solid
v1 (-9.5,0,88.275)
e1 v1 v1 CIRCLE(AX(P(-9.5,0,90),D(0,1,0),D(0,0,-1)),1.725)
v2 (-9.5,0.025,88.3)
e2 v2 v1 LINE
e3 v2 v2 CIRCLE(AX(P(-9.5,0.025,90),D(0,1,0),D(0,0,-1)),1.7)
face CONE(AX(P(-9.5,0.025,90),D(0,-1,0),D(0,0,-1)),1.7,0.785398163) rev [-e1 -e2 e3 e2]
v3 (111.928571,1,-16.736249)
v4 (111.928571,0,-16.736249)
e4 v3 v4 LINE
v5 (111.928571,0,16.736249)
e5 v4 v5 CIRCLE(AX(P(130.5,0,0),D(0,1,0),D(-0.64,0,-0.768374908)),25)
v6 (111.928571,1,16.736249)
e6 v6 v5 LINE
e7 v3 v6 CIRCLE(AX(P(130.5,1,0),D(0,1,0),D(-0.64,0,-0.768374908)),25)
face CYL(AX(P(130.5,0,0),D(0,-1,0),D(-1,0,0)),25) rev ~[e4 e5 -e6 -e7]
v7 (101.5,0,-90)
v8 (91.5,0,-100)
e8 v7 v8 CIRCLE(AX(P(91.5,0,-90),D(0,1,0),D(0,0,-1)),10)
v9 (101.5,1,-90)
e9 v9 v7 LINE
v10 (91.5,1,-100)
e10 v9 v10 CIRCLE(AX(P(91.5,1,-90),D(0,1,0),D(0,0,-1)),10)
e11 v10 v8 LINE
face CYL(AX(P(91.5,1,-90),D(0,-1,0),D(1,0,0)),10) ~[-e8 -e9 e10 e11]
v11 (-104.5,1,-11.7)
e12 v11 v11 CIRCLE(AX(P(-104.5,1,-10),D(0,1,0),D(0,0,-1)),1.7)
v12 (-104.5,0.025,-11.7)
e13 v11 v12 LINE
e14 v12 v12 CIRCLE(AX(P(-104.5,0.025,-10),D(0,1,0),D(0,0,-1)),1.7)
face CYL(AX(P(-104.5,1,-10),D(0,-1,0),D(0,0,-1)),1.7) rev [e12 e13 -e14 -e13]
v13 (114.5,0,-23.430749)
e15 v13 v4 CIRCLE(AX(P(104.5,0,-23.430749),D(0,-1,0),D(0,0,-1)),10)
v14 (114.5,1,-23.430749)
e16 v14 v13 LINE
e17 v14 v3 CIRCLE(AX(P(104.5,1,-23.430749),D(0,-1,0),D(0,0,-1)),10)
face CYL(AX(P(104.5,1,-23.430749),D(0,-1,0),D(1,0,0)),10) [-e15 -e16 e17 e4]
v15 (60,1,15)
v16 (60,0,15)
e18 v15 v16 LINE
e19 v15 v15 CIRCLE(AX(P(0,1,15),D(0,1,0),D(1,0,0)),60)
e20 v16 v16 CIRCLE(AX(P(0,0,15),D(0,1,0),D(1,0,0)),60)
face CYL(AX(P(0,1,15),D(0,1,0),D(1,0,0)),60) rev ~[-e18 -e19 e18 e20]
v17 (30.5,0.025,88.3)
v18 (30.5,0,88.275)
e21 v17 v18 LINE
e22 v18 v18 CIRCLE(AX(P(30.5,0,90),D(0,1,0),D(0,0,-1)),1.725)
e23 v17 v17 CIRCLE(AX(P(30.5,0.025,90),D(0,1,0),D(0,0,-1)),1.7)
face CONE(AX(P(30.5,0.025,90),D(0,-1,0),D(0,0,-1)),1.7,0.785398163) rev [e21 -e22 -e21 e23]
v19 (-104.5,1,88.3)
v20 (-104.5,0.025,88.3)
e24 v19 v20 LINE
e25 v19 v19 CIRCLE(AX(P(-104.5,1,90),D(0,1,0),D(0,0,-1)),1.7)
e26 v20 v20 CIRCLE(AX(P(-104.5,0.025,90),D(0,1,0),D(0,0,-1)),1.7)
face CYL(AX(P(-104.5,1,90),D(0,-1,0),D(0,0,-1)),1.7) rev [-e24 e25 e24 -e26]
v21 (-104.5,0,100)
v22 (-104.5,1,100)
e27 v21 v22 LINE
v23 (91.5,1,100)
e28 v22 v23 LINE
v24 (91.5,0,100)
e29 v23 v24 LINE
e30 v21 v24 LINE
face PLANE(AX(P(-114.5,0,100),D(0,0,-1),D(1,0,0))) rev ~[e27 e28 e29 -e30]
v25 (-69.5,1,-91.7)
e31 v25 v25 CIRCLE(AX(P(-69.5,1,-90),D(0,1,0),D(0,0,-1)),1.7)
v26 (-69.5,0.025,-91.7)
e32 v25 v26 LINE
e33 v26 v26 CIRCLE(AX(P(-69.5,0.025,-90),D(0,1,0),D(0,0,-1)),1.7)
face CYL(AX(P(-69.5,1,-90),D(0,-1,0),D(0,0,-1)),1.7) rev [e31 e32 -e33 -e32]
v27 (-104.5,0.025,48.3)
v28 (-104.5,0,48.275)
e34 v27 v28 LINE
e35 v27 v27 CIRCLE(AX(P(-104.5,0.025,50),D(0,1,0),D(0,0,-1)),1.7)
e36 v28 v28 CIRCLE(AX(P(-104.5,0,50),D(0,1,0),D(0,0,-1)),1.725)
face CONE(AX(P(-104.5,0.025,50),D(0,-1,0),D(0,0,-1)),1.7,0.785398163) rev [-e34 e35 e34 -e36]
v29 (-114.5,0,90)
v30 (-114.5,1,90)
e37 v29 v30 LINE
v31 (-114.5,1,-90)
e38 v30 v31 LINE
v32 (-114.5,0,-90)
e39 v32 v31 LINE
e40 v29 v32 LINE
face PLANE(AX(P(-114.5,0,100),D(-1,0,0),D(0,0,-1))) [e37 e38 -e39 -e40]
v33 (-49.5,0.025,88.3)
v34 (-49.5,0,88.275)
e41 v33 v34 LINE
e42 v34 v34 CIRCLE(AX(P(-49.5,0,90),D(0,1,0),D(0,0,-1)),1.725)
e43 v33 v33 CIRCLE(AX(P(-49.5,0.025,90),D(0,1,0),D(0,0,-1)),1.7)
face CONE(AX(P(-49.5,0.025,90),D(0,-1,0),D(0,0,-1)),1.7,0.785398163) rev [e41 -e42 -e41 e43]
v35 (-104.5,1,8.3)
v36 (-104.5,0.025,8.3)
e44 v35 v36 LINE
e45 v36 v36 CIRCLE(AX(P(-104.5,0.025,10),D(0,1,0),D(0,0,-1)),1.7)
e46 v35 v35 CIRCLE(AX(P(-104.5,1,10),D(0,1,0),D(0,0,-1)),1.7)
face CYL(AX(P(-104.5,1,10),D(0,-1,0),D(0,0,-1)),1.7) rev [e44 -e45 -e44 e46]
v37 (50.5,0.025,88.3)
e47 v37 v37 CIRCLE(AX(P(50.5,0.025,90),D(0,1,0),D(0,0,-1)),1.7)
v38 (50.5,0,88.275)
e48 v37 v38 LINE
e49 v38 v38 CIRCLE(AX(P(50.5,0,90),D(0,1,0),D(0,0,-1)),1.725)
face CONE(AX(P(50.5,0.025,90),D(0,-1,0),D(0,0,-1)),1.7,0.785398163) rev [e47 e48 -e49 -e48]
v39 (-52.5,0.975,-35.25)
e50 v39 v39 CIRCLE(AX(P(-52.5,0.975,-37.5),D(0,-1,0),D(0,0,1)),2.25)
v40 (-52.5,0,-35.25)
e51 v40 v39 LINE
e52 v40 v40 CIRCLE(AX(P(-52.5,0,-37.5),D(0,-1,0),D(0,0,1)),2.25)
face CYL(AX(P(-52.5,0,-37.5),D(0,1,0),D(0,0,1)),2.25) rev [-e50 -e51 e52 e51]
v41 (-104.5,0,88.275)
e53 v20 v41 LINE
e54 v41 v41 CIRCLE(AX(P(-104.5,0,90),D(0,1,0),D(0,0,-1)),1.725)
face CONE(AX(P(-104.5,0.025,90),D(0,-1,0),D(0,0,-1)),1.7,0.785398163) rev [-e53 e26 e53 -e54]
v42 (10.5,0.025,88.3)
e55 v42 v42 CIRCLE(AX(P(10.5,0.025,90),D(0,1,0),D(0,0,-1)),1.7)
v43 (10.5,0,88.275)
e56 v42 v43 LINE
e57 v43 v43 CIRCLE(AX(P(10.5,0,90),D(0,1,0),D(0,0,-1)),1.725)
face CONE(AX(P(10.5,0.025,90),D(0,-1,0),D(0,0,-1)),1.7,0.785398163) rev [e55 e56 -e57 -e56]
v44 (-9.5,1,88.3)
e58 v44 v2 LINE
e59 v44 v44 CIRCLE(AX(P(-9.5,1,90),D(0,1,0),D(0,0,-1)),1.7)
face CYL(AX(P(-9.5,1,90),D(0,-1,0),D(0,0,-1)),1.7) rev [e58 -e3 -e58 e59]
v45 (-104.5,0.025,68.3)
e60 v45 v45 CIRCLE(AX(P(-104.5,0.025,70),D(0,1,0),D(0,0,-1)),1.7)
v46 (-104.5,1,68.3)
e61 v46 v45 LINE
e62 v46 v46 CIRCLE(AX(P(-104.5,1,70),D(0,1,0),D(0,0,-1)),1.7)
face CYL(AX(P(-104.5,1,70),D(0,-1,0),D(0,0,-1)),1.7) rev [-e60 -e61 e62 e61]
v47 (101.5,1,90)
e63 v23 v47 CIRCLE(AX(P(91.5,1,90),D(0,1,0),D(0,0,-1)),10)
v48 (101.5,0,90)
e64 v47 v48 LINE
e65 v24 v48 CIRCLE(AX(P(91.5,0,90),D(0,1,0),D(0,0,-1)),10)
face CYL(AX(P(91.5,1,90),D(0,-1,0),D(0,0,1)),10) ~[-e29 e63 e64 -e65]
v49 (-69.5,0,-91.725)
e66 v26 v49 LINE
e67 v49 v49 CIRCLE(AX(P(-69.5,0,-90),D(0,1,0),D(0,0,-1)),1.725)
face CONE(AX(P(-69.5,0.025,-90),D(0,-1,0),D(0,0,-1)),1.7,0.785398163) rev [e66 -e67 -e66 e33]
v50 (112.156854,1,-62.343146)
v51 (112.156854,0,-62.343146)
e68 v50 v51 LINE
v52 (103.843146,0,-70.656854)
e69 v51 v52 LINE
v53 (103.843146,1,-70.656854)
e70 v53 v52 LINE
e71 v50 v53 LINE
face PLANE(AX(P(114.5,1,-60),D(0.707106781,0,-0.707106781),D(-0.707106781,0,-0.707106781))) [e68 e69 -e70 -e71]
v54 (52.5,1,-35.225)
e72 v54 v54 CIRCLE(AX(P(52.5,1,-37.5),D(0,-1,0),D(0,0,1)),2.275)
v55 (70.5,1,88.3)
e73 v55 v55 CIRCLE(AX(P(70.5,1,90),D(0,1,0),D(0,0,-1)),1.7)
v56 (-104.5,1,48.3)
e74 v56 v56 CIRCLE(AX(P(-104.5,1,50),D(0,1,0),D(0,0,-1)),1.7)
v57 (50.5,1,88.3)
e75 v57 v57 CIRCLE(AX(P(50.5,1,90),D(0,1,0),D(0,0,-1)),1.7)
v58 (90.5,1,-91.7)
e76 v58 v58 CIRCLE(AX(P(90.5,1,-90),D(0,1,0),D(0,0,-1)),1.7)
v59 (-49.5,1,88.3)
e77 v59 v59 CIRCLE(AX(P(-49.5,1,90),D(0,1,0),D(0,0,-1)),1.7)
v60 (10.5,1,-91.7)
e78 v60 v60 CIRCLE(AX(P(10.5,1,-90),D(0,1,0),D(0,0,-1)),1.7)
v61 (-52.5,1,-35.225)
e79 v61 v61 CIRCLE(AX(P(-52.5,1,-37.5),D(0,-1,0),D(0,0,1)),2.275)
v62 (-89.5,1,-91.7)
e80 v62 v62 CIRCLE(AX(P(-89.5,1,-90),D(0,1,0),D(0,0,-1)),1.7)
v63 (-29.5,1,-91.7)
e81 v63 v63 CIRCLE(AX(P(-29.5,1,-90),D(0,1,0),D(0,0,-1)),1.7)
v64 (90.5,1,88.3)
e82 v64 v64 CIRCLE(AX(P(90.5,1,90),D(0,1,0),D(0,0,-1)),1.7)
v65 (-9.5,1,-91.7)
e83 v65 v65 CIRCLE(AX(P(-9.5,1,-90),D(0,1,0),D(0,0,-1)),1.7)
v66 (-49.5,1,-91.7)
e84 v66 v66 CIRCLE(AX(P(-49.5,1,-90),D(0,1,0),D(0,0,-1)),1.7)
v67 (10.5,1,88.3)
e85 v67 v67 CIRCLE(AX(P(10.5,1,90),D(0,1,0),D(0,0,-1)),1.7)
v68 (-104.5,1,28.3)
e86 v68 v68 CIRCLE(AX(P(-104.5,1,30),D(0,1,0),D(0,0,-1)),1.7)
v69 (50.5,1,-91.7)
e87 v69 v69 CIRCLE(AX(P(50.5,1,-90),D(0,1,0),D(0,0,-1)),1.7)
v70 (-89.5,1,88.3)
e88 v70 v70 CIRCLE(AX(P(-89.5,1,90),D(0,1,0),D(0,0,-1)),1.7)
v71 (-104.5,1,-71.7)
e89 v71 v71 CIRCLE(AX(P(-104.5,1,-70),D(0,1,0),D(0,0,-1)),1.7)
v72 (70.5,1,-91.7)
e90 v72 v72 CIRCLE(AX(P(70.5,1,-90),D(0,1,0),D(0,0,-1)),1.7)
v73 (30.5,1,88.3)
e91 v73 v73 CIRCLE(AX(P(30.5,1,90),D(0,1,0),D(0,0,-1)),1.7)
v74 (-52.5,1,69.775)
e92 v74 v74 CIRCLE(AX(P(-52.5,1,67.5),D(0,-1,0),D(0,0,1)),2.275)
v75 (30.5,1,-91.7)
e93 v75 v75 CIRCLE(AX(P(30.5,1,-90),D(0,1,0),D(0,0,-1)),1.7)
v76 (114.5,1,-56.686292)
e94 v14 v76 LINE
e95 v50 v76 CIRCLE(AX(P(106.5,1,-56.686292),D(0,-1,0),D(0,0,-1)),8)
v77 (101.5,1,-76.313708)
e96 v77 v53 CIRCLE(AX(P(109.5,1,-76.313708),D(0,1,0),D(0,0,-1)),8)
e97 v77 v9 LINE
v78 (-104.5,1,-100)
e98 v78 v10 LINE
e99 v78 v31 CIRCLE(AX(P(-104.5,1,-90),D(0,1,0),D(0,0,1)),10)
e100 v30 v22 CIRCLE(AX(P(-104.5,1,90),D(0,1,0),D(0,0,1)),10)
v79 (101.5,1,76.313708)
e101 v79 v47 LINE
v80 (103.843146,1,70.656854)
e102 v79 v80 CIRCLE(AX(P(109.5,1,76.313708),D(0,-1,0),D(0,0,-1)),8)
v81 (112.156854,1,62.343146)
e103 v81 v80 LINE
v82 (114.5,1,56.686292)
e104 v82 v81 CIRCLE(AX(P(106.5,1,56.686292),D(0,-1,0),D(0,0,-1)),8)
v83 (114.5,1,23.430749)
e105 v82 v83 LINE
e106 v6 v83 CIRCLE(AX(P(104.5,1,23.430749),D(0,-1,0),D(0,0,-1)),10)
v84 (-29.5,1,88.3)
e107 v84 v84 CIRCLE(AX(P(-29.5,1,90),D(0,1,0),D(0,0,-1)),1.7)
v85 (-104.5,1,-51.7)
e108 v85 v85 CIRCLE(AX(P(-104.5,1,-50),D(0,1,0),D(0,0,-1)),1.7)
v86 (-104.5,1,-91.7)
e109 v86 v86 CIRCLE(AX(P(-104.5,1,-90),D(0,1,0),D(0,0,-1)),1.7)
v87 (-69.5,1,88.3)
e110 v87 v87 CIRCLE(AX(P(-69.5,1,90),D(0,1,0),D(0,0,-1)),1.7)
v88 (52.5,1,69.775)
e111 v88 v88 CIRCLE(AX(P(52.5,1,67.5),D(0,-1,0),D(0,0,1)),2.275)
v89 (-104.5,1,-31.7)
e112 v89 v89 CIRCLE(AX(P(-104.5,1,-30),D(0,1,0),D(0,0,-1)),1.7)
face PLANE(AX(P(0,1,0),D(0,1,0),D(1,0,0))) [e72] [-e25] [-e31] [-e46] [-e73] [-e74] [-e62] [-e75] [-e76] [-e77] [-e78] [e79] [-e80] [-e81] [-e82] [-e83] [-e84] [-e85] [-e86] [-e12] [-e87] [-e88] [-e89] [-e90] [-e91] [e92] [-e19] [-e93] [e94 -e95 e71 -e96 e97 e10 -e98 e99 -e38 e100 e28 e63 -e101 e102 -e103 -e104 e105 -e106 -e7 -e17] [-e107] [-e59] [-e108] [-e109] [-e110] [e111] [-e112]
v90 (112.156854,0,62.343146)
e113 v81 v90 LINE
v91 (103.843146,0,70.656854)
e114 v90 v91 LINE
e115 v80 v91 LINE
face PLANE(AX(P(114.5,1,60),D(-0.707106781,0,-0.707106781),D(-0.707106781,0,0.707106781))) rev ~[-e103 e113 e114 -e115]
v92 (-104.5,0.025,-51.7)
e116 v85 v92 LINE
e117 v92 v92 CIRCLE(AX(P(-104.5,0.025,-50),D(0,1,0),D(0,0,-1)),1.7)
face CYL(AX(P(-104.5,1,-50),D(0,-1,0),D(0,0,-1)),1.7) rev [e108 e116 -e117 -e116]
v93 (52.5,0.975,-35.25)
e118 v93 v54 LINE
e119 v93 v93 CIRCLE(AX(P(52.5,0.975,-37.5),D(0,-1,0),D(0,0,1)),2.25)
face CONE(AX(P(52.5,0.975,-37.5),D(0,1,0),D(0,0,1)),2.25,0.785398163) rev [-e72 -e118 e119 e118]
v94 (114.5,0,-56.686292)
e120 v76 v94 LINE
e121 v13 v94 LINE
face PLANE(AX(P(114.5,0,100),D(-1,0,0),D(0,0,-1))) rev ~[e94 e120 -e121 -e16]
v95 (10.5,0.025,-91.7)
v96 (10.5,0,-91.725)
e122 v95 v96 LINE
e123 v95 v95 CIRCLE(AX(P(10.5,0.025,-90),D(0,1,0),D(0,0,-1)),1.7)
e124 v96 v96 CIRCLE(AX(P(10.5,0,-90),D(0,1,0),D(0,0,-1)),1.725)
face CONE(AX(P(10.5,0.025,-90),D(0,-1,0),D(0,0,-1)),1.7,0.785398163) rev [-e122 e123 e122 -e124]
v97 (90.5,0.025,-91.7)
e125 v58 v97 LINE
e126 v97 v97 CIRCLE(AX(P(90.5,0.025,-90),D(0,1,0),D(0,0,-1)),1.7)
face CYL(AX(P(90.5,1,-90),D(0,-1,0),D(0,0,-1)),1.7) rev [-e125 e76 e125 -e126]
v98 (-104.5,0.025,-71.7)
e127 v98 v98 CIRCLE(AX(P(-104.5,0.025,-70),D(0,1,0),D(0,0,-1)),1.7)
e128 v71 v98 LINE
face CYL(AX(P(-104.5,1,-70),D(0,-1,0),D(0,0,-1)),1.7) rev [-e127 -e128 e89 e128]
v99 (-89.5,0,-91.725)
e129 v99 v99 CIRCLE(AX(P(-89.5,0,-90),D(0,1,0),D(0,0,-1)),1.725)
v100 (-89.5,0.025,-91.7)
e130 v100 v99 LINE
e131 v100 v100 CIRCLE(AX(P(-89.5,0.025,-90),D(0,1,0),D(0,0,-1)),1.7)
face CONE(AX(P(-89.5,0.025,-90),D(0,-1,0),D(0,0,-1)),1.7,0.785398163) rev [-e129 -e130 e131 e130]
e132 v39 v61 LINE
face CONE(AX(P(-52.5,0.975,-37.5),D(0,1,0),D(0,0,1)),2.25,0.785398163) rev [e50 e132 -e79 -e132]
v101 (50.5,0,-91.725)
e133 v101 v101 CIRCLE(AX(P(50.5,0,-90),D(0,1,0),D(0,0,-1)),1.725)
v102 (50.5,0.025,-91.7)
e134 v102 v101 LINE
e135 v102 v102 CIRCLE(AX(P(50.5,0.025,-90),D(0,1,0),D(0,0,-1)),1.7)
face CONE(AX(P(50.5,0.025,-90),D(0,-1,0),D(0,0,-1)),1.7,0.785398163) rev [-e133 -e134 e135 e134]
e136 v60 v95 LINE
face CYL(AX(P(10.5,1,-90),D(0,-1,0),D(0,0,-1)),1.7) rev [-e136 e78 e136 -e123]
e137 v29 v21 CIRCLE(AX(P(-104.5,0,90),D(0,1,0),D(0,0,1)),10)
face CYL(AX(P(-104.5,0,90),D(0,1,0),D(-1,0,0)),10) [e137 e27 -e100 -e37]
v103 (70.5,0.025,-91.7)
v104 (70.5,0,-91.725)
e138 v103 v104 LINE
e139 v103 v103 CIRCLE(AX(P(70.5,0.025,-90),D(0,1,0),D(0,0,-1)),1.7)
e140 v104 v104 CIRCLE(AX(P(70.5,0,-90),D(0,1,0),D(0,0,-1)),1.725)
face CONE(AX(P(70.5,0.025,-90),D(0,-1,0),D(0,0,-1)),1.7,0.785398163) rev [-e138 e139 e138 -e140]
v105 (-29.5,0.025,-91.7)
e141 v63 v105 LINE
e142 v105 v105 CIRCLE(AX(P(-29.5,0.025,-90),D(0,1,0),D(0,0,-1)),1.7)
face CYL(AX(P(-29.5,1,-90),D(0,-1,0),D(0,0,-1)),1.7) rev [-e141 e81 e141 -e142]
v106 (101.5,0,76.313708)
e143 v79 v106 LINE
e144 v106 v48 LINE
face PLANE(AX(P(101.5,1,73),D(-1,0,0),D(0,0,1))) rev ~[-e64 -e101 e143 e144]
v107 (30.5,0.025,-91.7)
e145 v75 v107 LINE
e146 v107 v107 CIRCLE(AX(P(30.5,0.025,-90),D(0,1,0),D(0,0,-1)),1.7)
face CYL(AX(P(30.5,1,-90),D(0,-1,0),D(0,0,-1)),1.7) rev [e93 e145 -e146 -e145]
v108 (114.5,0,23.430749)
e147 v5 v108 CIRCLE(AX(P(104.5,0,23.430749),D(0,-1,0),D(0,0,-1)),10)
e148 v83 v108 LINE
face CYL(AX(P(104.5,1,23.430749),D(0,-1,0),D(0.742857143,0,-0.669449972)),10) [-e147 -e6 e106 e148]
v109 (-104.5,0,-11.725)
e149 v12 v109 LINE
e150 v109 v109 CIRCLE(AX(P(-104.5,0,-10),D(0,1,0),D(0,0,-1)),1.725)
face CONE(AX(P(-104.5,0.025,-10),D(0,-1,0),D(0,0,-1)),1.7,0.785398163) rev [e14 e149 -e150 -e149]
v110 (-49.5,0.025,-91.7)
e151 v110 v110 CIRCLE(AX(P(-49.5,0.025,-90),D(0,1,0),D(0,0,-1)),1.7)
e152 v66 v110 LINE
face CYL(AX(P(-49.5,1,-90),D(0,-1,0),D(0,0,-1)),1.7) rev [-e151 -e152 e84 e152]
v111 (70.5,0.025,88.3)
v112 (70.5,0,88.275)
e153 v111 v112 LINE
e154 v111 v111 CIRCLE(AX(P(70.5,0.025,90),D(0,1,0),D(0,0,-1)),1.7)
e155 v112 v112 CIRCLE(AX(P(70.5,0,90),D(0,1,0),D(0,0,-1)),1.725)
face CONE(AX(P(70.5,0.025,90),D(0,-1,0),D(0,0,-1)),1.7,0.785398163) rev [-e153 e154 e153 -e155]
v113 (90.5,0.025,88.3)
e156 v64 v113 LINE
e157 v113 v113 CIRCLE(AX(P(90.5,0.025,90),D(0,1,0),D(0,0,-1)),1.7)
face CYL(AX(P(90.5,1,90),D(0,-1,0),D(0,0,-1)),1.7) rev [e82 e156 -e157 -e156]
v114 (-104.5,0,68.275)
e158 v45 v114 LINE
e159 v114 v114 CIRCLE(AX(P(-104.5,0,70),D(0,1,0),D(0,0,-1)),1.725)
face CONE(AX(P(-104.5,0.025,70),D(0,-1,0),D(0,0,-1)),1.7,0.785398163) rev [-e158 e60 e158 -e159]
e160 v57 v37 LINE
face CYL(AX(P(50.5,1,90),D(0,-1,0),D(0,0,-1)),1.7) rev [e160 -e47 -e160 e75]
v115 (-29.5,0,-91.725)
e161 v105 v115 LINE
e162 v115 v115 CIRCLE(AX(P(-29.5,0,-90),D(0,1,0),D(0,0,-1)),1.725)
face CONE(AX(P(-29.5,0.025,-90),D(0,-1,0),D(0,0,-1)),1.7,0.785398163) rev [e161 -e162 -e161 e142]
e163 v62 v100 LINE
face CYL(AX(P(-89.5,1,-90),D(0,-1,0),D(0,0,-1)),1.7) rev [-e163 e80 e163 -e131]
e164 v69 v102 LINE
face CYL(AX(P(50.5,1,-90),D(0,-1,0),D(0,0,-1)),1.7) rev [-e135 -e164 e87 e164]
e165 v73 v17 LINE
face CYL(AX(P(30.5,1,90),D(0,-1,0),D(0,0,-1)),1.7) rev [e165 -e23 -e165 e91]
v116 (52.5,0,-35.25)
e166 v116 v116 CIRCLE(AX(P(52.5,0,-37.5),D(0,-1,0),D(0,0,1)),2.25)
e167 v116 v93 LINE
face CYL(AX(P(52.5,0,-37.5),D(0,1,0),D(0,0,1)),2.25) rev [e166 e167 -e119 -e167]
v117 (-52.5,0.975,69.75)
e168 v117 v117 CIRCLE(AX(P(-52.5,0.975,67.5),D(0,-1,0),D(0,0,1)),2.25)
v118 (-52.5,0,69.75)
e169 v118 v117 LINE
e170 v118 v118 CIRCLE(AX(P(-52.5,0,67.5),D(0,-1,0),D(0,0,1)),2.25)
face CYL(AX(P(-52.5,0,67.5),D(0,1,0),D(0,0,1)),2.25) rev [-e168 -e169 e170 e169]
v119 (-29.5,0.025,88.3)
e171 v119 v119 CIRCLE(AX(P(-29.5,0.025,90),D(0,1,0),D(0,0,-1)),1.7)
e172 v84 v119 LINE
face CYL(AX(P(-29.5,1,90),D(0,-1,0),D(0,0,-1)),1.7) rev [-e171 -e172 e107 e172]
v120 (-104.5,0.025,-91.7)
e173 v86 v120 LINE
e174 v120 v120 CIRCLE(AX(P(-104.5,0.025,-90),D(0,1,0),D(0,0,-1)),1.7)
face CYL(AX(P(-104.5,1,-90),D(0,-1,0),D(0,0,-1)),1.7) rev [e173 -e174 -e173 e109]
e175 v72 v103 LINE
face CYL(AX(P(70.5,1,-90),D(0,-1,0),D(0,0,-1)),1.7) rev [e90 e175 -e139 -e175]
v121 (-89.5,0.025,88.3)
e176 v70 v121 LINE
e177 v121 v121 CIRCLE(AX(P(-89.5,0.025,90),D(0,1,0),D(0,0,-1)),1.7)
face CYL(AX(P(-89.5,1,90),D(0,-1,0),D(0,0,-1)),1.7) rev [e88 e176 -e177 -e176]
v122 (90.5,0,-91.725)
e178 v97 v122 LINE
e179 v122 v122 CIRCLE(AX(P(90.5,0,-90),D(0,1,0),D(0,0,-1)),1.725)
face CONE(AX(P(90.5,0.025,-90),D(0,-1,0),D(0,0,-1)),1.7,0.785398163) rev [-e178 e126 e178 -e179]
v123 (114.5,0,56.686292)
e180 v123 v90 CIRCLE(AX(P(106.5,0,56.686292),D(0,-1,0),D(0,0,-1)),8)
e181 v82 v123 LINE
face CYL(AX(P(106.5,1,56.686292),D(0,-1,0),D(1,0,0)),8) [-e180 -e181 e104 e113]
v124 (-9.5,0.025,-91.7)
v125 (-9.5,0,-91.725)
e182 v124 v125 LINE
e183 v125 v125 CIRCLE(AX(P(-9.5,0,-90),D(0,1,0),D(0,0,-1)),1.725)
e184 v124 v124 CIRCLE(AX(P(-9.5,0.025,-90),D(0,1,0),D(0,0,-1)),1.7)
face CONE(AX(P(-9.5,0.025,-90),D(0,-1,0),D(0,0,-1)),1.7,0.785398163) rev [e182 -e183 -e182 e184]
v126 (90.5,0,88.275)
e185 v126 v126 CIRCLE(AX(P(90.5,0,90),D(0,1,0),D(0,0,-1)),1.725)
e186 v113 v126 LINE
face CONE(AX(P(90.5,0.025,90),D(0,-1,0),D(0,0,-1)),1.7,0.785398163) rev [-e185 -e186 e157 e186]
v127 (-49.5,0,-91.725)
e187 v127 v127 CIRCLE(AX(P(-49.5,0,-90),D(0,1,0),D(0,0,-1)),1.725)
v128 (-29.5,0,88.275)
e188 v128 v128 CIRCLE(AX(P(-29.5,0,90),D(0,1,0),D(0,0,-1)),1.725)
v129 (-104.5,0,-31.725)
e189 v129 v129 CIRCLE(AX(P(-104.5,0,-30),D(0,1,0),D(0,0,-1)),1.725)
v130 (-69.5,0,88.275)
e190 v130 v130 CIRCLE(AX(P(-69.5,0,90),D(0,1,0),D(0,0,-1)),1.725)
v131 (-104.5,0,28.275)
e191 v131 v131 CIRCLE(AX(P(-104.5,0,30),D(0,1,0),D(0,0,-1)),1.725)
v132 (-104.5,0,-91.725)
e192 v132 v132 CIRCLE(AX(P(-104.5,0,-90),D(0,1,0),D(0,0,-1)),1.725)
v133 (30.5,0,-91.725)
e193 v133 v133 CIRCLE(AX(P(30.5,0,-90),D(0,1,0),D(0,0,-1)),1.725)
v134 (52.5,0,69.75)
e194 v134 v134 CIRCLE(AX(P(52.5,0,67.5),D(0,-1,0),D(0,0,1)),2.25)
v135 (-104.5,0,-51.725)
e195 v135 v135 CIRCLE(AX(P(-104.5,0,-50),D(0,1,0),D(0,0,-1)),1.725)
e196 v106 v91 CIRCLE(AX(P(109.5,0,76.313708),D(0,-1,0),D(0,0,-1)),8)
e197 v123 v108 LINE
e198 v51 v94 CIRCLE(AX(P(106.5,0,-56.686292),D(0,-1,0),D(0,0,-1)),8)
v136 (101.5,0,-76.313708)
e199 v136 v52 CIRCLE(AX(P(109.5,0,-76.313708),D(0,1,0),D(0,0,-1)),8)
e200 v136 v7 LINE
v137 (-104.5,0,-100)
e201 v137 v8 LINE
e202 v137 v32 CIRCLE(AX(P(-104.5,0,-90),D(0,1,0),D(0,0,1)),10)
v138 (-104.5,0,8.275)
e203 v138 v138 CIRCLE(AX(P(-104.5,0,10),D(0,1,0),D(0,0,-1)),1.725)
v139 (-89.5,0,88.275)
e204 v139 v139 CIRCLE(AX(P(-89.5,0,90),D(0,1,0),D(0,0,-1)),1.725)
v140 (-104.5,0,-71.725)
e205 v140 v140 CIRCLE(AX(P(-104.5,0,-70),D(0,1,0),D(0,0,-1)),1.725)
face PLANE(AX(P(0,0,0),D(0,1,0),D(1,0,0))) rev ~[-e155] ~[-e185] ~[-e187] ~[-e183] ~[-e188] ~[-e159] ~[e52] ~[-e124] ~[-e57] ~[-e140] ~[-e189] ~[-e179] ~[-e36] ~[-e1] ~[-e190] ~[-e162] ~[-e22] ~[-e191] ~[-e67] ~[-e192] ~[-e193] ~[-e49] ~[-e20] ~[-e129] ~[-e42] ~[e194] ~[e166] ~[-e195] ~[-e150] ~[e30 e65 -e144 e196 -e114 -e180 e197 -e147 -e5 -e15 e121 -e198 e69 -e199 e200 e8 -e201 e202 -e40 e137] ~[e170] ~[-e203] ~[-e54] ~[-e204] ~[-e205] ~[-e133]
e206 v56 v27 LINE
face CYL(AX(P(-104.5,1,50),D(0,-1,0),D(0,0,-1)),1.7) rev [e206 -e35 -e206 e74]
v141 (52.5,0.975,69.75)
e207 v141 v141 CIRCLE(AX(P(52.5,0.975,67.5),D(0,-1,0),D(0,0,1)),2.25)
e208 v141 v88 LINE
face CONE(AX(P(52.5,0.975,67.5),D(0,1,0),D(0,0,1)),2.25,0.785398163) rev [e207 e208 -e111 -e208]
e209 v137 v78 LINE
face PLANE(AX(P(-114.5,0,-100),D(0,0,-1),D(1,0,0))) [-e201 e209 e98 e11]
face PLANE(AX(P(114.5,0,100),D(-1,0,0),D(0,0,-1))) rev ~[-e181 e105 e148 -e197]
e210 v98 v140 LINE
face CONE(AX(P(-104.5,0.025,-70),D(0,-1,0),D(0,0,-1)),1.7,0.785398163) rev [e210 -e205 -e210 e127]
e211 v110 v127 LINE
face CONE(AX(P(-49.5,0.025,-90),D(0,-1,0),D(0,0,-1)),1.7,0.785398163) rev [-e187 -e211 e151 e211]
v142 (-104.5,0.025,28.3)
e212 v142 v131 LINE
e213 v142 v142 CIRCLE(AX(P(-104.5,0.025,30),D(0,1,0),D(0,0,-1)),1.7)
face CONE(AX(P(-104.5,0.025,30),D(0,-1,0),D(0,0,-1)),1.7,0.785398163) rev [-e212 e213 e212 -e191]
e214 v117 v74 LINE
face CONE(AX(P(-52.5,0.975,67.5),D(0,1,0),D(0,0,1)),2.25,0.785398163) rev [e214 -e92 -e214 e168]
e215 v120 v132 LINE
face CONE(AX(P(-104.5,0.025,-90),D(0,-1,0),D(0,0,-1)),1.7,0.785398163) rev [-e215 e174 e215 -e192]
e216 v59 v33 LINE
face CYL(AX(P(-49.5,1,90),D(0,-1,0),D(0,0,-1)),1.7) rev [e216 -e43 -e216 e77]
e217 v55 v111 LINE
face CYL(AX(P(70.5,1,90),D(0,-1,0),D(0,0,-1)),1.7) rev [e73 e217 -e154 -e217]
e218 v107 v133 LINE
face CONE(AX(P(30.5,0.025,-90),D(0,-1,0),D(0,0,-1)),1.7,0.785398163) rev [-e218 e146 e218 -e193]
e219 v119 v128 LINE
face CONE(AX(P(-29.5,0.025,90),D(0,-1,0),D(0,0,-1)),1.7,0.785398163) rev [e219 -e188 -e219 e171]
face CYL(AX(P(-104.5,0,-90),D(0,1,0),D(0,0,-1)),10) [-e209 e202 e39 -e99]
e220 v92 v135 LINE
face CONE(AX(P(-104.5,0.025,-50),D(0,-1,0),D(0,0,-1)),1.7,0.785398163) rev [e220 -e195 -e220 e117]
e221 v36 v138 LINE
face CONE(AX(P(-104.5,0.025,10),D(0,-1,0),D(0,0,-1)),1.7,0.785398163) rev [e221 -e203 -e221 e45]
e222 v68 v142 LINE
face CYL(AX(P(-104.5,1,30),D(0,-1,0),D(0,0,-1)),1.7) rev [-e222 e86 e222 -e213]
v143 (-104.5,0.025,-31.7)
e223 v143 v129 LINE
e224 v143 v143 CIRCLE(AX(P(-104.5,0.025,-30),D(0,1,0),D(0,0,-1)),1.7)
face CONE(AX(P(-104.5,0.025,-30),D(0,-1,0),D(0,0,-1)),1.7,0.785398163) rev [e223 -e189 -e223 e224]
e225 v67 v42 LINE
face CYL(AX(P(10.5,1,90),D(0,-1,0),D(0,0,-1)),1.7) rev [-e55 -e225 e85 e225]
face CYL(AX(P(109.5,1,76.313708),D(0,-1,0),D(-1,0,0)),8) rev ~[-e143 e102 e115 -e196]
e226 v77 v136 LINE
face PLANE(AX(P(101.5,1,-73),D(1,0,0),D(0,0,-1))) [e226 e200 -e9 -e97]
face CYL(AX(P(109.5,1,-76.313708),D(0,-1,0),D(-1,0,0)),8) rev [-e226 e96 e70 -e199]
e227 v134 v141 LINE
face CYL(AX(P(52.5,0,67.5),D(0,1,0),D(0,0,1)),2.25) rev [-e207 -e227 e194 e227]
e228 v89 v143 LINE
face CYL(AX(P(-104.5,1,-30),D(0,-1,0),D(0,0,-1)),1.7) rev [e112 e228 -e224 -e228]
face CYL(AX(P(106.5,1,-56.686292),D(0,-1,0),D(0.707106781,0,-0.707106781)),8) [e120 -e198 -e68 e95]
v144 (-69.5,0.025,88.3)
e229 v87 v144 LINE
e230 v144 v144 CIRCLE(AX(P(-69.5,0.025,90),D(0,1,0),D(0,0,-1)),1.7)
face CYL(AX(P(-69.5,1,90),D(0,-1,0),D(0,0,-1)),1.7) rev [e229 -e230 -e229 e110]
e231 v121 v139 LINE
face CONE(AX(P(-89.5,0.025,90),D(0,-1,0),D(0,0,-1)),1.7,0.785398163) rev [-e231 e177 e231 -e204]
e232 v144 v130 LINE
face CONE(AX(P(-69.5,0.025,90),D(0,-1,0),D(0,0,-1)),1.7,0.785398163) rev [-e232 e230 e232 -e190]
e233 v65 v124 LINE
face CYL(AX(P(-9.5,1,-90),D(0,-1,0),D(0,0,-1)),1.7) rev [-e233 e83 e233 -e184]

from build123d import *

# Parameters (mm, degrees)
SKETCH1_W                      = 229
SKETCH1_H                      = 200
BOSS_EXTRUDE1_DEPTH            = 1
CUT_EXTRUDE1_DEPTH             = 2
FILLET1_R                      = 8
FILLET2_R                      = 10
M3_CLEARANCE_HOLE1_AT_2_COUNT  = 2
M3_CLEARANCE_HOLE1_AT_2_PITCH  = 20
M3_CLEARANCE_HOLE1_AT_3_COUNT  = 2
M3_CLEARANCE_HOLE1_AT_3_PITCH  = 40
M3_CLEARANCE_HOLE1_AT_4_COUNT  = 2
M3_CLEARANCE_HOLE1_AT_4_PITCH  = 60
M3_CLEARANCE_HOLE1_AT_5_COUNT  = 2
M3_CLEARANCE_HOLE1_AT_5_PITCH  = 80
M3_CLEARANCE_HOLE1_AT_6_COUNT  = 2
M3_CLEARANCE_HOLE1_AT_6_PITCH  = 100
M3_CLEARANCE_HOLE1_AT_7_COUNT  = 2
M3_CLEARANCE_HOLE1_AT_7_PITCH  = 120
M3_CLEARANCE_HOLE1_AT_8_COUNT  = 2
M3_CLEARANCE_HOLE1_AT_8_PITCH  = 140
M3_CLEARANCE_HOLE1_AT_9_COUNT  = 2
M3_CLEARANCE_HOLE1_AT_9_PITCH  = 160
M3_CLEARANCE_HOLE1_AT_10_COUNT = 2
M3_CLEARANCE_HOLE1_AT_10_PITCH = 180
M3_CLEARANCE_HOLE2_AT_2_COUNT  = 2
M3_CLEARANCE_HOLE2_AT_2_PITCH  = 20
M3_CLEARANCE_HOLE2_AT_3_COUNT  = 2
M3_CLEARANCE_HOLE2_AT_3_PITCH  = 40
M3_CLEARANCE_HOLE2_AT_4_COUNT  = 2
M3_CLEARANCE_HOLE2_AT_4_PITCH  = 60
M3_CLEARANCE_HOLE2_AT_5_COUNT  = 2
M3_CLEARANCE_HOLE2_AT_5_PITCH  = 80
M3_CLEARANCE_HOLE2_AT_6_COUNT  = 2
M3_CLEARANCE_HOLE2_AT_6_PITCH  = 100
M3_CLEARANCE_HOLE2_AT_7_COUNT  = 2
M3_CLEARANCE_HOLE2_AT_7_PITCH  = 120
M3_CLEARANCE_HOLE2_AT_8_COUNT  = 2
M3_CLEARANCE_HOLE2_AT_8_PITCH  = 140
M3_CLEARANCE_HOLE2_AT_9_COUNT  = 2
M3_CLEARANCE_HOLE2_AT_9_PITCH  = 160
M3_CLEARANCE_HOLE2_AT_10_COUNT = 2
M3_CLEARANCE_HOLE2_AT_10_PITCH = 180
M3_CLEARANCE_HOLE2_AT_11_COUNT = 2
M3_CLEARANCE_HOLE2_AT_11_PITCH = 254.558441227
M3_CLEARANCE_HOLE2_AT_12_COUNT = 2
M3_CLEARANCE_HOLE2_AT_12_PITCH = 240.831891576
M3_CLEARANCE_HOLE2_AT_13_COUNT = 2
M3_CLEARANCE_HOLE2_AT_13_PITCH = 228.03508502
M3_CLEARANCE_HOLE2_AT_14_COUNT = 2
M3_CLEARANCE_HOLE2_AT_14_PITCH = 216.333076528
M3_CLEARANCE_HOLE2_AT_15_COUNT = 2
M3_CLEARANCE_HOLE2_AT_15_PITCH = 205.91260282
M3_CLEARANCE_HOLE2_AT_16_COUNT = 2
M3_CLEARANCE_HOLE2_AT_16_PITCH = 196.977156036
M3_CLEARANCE_HOLE2_AT_17_COUNT = 2
M3_CLEARANCE_HOLE2_AT_17_PITCH = 189.73665961
M3_CLEARANCE_HOLE2_AT_18_COUNT = 2
M3_CLEARANCE_HOLE2_AT_18_PITCH = 184.390889146
M3_CLEARANCE_HOLE2_AT_19_COUNT = 2
M3_CLEARANCE_HOLE2_AT_19_PITCH = 181.107702763
M3_CLEARANCE_HOLE2_AT_20_COUNT = 2
M3_CLEARANCE_HOLE2_AT_20_PITCH = 180
SKETCH7_R                      = 25
CUT_EXTRUDE2_DEPTH             = 10
FILLET3_R                      = 10
M4_CLEARANCE_HOLE1_AT_2_COUNT  = 2
M4_CLEARANCE_HOLE1_AT_2_PITCH  = 105
M4_CLEARANCE_HOLE1_AT_3_COUNT  = 2
M4_CLEARANCE_HOLE1_AT_3_PITCH  = 105
M4_CLEARANCE_HOLE1_AT_4_COUNT  = 2
M4_CLEARANCE_HOLE1_AT_4_PITCH  = 148.492424049
SKETCH10_R                     = 60
CUT_EXTRUDE3_DEPTH             = 10


with BuildPart() as part:
    # Sketch1 → Boss-Extrude1 (new body)
    with BuildSketch(Plane(origin=(0, 0, 0), x_dir=(1, 0, 0), z_dir=(0, 1, 0))):
        Rectangle(SKETCH1_W, SKETCH1_H)
    extrude(amount=BOSS_EXTRUDE1_DEPTH)

    # Sketch2 → Cut-Extrude1 (cut, through all)
    with BuildSketch(Plane(origin=(0, 1, 0), x_dir=(1, 0, 0), z_dir=(0, 1, 0))):
        Polygon((114.5, 60), (101.5, 73), (101.5, 100), (114.5, 100), align=None)
        Polygon((101.5, -100), (114.5, -100), (114.5, -60), (101.5, -73), align=None)
    extrude(amount=-CUT_EXTRUDE1_DEPTH, mode=Mode.SUBTRACT)

    # Fillet1
    fillet1_edges = [part.edges().sort_by_distance(p)[0] for p in [
        (114.5, 0.5, -60),
        (101.5, 0.5, -73),
        (101.5, 0.5, 73),
        (114.5, 0.5, 60),
    ]]
    fillet(fillet1_edges, radius=FILLET1_R)

    # Fillet2
    fillet2_edges = [part.edges().sort_by_distance(p)[0] for p in [
        (101.5, 0.5, -100),
        (101.5, 0.5, 100),
        (-114.5, 0.5, 100),
        (-114.5, 0.5, -100),
    ]]
    fillet(fillet2_edges, radius=FILLET2_R)

    # Sketch4 → M3 Clearance Hole1 (revolve, cut)
    with BuildSketch(Plane(origin=(-104.5, 0, -90), x_dir=(0, 0, -1), z_dir=(1, 0, 0))):
        Polygon((0, 0), (0, 1), (1.7, 1), (1.7, 0.025), (1.725, 0), align=None)
    m3_clearance_hole1 = revolve(axis=Axis((-104.5, -6.35, -90), (0, 1, 0)), mode=Mode.SUBTRACT)

    # M3 Clearance Hole1 at 2: M3 Clearance Hole1 ×2
    with Locations(*[(0, 0, i * M3_CLEARANCE_HOLE1_AT_2_PITCH) for i in range(1, M3_CLEARANCE_HOLE1_AT_2_COUNT)]):
        add(m3_clearance_hole1, mode=Mode.SUBTRACT)

    # M3 Clearance Hole1 at 3: M3 Clearance Hole1 ×2
    with Locations(*[(0, 0, i * M3_CLEARANCE_HOLE1_AT_3_PITCH) for i in range(1, M3_CLEARANCE_HOLE1_AT_3_COUNT)]):
        add(m3_clearance_hole1, mode=Mode.SUBTRACT)

    # M3 Clearance Hole1 at 4: M3 Clearance Hole1 ×2
    with Locations(*[(0, 0, i * M3_CLEARANCE_HOLE1_AT_4_PITCH) for i in range(1, M3_CLEARANCE_HOLE1_AT_4_COUNT)]):
        add(m3_clearance_hole1, mode=Mode.SUBTRACT)

    # M3 Clearance Hole1 at 5: M3 Clearance Hole1 ×2
    with Locations(*[(0, 0, i * M3_CLEARANCE_HOLE1_AT_5_PITCH) for i in range(1, M3_CLEARANCE_HOLE1_AT_5_COUNT)]):
        add(m3_clearance_hole1, mode=Mode.SUBTRACT)

    # M3 Clearance Hole1 at 6: M3 Clearance Hole1 ×2
    with Locations(*[(0, 0, i * M3_CLEARANCE_HOLE1_AT_6_PITCH) for i in range(1, M3_CLEARANCE_HOLE1_AT_6_COUNT)]):
        add(m3_clearance_hole1, mode=Mode.SUBTRACT)

    # M3 Clearance Hole1 at 7: M3 Clearance Hole1 ×2
    with Locations(*[(0, 0, i * M3_CLEARANCE_HOLE1_AT_7_PITCH) for i in range(1, M3_CLEARANCE_HOLE1_AT_7_COUNT)]):
        add(m3_clearance_hole1, mode=Mode.SUBTRACT)

    # M3 Clearance Hole1 at 8: M3 Clearance Hole1 ×2
    with Locations(*[(0, 0, i * M3_CLEARANCE_HOLE1_AT_8_PITCH) for i in range(1, M3_CLEARANCE_HOLE1_AT_8_COUNT)]):
        add(m3_clearance_hole1, mode=Mode.SUBTRACT)

    # M3 Clearance Hole1 at 9: M3 Clearance Hole1 ×2
    with Locations(*[(0, 0, i * M3_CLEARANCE_HOLE1_AT_9_PITCH) for i in range(1, M3_CLEARANCE_HOLE1_AT_9_COUNT)]):
        add(m3_clearance_hole1, mode=Mode.SUBTRACT)

    # M3 Clearance Hole1 at 10: M3 Clearance Hole1 ×2
    with Locations(*[(0, 0, i * M3_CLEARANCE_HOLE1_AT_10_PITCH) for i in range(1, M3_CLEARANCE_HOLE1_AT_10_COUNT)]):
        add(m3_clearance_hole1, mode=Mode.SUBTRACT)

    # Sketch6 → M3 Clearance Hole2 (revolve, cut)
    with BuildSketch(Plane(origin=(90.5, 0, -90), x_dir=(0, 0, -1), z_dir=(1, 0, 0))):
        Polygon((0, 0), (0, 1), (1.7, 1), (1.7, 0.025), (1.725, 0), align=None)
    m3_clearance_hole2 = revolve(axis=Axis((90.5, -6.35, -90), (0, 1, 0)), mode=Mode.SUBTRACT)

    # M3 Clearance Hole2 at 2: M3 Clearance Hole2 ×2
    with Locations(*[(-i * M3_CLEARANCE_HOLE2_AT_2_PITCH, 0, 0) for i in range(1, M3_CLEARANCE_HOLE2_AT_2_COUNT)]):
        add(m3_clearance_hole2, mode=Mode.SUBTRACT)

    # M3 Clearance Hole2 at 3: M3 Clearance Hole2 ×2
    with Locations(*[(-i * M3_CLEARANCE_HOLE2_AT_3_PITCH, 0, 0) for i in range(1, M3_CLEARANCE_HOLE2_AT_3_COUNT)]):
        add(m3_clearance_hole2, mode=Mode.SUBTRACT)

    # M3 Clearance Hole2 at 4: M3 Clearance Hole2 ×2
    with Locations(*[(-i * M3_CLEARANCE_HOLE2_AT_4_PITCH, 0, 0) for i in range(1, M3_CLEARANCE_HOLE2_AT_4_COUNT)]):
        add(m3_clearance_hole2, mode=Mode.SUBTRACT)

    # M3 Clearance Hole2 at 5: M3 Clearance Hole2 ×2
    with Locations(*[(-i * M3_CLEARANCE_HOLE2_AT_5_PITCH, 0, 0) for i in range(1, M3_CLEARANCE_HOLE2_AT_5_COUNT)]):
        add(m3_clearance_hole2, mode=Mode.SUBTRACT)

    # M3 Clearance Hole2 at 6: M3 Clearance Hole2 ×2
    with Locations(*[(-i * M3_CLEARANCE_HOLE2_AT_6_PITCH, 0, 0) for i in range(1, M3_CLEARANCE_HOLE2_AT_6_COUNT)]):
        add(m3_clearance_hole2, mode=Mode.SUBTRACT)

    # M3 Clearance Hole2 at 7: M3 Clearance Hole2 ×2
    with Locations(*[(-i * M3_CLEARANCE_HOLE2_AT_7_PITCH, 0, 0) for i in range(1, M3_CLEARANCE_HOLE2_AT_7_COUNT)]):
        add(m3_clearance_hole2, mode=Mode.SUBTRACT)

    # M3 Clearance Hole2 at 8: M3 Clearance Hole2 ×2
    with Locations(*[(-i * M3_CLEARANCE_HOLE2_AT_8_PITCH, 0, 0) for i in range(1, M3_CLEARANCE_HOLE2_AT_8_COUNT)]):
        add(m3_clearance_hole2, mode=Mode.SUBTRACT)

    # M3 Clearance Hole2 at 9: M3 Clearance Hole2 ×2
    with Locations(*[(-i * M3_CLEARANCE_HOLE2_AT_9_PITCH, 0, 0) for i in range(1, M3_CLEARANCE_HOLE2_AT_9_COUNT)]):
        add(m3_clearance_hole2, mode=Mode.SUBTRACT)

    # M3 Clearance Hole2 at 10: M3 Clearance Hole2 ×2
    with Locations(*[(-i * M3_CLEARANCE_HOLE2_AT_10_PITCH, 0, 0) for i in range(1, M3_CLEARANCE_HOLE2_AT_10_COUNT)]):
        add(m3_clearance_hole2, mode=Mode.SUBTRACT)

    # M3 Clearance Hole2 at 11: M3 Clearance Hole2 ×2
    with Locations(*[Vector(-0.707106781, 0, 0.707106781) * (i * M3_CLEARANCE_HOLE2_AT_11_PITCH) for i in range(1, M3_CLEARANCE_HOLE2_AT_11_COUNT)]):
        add(m3_clearance_hole2, mode=Mode.SUBTRACT)

    # M3 Clearance Hole2 at 12: M3 Clearance Hole2 ×2
    with Locations(*[Vector(-0.664363839, 0, 0.747409319) * (i * M3_CLEARANCE_HOLE2_AT_12_PITCH) for i in range(1, M3_CLEARANCE_HOLE2_AT_12_COUNT)]):
        add(m3_clearance_hole2, mode=Mode.SUBTRACT)

    # M3 Clearance Hole2 at 13: M3 Clearance Hole2 ×2
    with Locations(*[Vector(-0.613940614, 0, 0.789352217) * (i * M3_CLEARANCE_HOLE2_AT_13_PITCH) for i in range(1, M3_CLEARANCE_HOLE2_AT_13_COUNT)]):
        add(m3_clearance_hole2, mode=Mode.SUBTRACT)

    # M3 Clearance Hole2 at 14: M3 Clearance Hole2 ×2
    with Locations(*[Vector(-0.554700196, 0, 0.832050294) * (i * M3_CLEARANCE_HOLE2_AT_14_PITCH) for i in range(1, M3_CLEARANCE_HOLE2_AT_14_COUNT)]):
        add(m3_clearance_hole2, mode=Mode.SUBTRACT)

    # M3 Clearance Hole2 at 15: M3 Clearance Hole2 ×2
    with Locations(*[Vector(-0.485642931, 0, 0.874157276) * (i * M3_CLEARANCE_HOLE2_AT_15_PITCH) for i in range(1, M3_CLEARANCE_HOLE2_AT_15_COUNT)]):
        add(m3_clearance_hole2, mode=Mode.SUBTRACT)

    # M3 Clearance Hole2 at 16: M3 Clearance Hole2 ×2
    with Locations(*[Vector(-0.406138466, 0, 0.913811549) * (i * M3_CLEARANCE_HOLE2_AT_16_PITCH) for i in range(1, M3_CLEARANCE_HOLE2_AT_16_COUNT)]):
        add(m3_clearance_hole2, mode=Mode.SUBTRACT)

    # M3 Clearance Hole2 at 17: M3 Clearance Hole2 ×2
    with Locations(*[Vector(-0.316227766, 0, 0.948683298) * (i * M3_CLEARANCE_HOLE2_AT_17_PITCH) for i in range(1, M3_CLEARANCE_HOLE2_AT_17_COUNT)]):
        add(m3_clearance_hole2, mode=Mode.SUBTRACT)

    # M3 Clearance Hole2 at 18: M3 Clearance Hole2 ×2
    with Locations(*[Vector(-0.216930458, 0, 0.97618706) * (i * M3_CLEARANCE_HOLE2_AT_18_PITCH) for i in range(1, M3_CLEARANCE_HOLE2_AT_18_COUNT)]):
        add(m3_clearance_hole2, mode=Mode.SUBTRACT)

    # M3 Clearance Hole2 at 19: M3 Clearance Hole2 ×2
    with Locations(*[Vector(-0.110431526, 0, 0.993883735) * (i * M3_CLEARANCE_HOLE2_AT_19_PITCH) for i in range(1, M3_CLEARANCE_HOLE2_AT_19_COUNT)]):
        add(m3_clearance_hole2, mode=Mode.SUBTRACT)

    # M3 Clearance Hole2 at 20: M3 Clearance Hole2 ×2
    with Locations(*[(0, 0, i * M3_CLEARANCE_HOLE2_AT_20_PITCH) for i in range(1, M3_CLEARANCE_HOLE2_AT_20_COUNT)]):
        add(m3_clearance_hole2, mode=Mode.SUBTRACT)

    # Sketch7 → Cut-Extrude2 (cut)
    with BuildSketch(Plane(origin=(0, 0, 0), x_dir=(-1, 0, 0), z_dir=(0, -1, 0))):
        with Locations((-130.5, 0)):
            Circle(SKETCH7_R)
    extrude(amount=-CUT_EXTRUDE2_DEPTH, mode=Mode.SUBTRACT)

    # Fillet3
    fillet3_edges = [part.edges().sort_by_distance(p)[0] for p in [
        (114.5, 0.5, -19.209372712),
        (114.5, 0.5, 19.209372712),
    ]]
    fillet(fillet3_edges, radius=FILLET3_R)

    # Sketch9 → M4 Clearance Hole1 (revolve, cut)
    with BuildSketch(Plane(origin=(52.5, 1, -37.5), x_dir=(0, 0, 1), z_dir=(1, 0, 0))):
        Polygon((0, 0), (0, 1), (2.25, 1), (2.25, 0.025), (2.275, 0), align=None)
    m4_clearance_hole1 = revolve(axis=Axis((52.5, 7.35, -37.5), (0, -1, 0)), mode=Mode.SUBTRACT)

    # M4 Clearance Hole1 at 2: M4 Clearance Hole1 ×2
    with Locations(*[(0, 0, i * M4_CLEARANCE_HOLE1_AT_2_PITCH) for i in range(1, M4_CLEARANCE_HOLE1_AT_2_COUNT)]):
        add(m4_clearance_hole1, mode=Mode.SUBTRACT)

    # M4 Clearance Hole1 at 3: M4 Clearance Hole1 ×2
    with Locations(*[(-i * M4_CLEARANCE_HOLE1_AT_3_PITCH, 0, 0) for i in range(1, M4_CLEARANCE_HOLE1_AT_3_COUNT)]):
        add(m4_clearance_hole1, mode=Mode.SUBTRACT)

    # M4 Clearance Hole1 at 4: M4 Clearance Hole1 ×2
    with Locations(*[Vector(-0.707106781, 0, 0.707106781) * (i * M4_CLEARANCE_HOLE1_AT_4_PITCH) for i in range(1, M4_CLEARANCE_HOLE1_AT_4_COUNT)]):
        add(m4_clearance_hole1, mode=Mode.SUBTRACT)

    # Sketch10 → Cut-Extrude3 (cut)
    with BuildSketch(Plane(origin=(0, 1, 0), x_dir=(1, 0, 0), z_dir=(0, 1, 0))):
        with Locations((0, -15)):
            Circle(SKETCH10_R)
    extrude(amount=-CUT_EXTRUDE3_DEPTH, mode=Mode.SUBTRACT)


solid = part.part
